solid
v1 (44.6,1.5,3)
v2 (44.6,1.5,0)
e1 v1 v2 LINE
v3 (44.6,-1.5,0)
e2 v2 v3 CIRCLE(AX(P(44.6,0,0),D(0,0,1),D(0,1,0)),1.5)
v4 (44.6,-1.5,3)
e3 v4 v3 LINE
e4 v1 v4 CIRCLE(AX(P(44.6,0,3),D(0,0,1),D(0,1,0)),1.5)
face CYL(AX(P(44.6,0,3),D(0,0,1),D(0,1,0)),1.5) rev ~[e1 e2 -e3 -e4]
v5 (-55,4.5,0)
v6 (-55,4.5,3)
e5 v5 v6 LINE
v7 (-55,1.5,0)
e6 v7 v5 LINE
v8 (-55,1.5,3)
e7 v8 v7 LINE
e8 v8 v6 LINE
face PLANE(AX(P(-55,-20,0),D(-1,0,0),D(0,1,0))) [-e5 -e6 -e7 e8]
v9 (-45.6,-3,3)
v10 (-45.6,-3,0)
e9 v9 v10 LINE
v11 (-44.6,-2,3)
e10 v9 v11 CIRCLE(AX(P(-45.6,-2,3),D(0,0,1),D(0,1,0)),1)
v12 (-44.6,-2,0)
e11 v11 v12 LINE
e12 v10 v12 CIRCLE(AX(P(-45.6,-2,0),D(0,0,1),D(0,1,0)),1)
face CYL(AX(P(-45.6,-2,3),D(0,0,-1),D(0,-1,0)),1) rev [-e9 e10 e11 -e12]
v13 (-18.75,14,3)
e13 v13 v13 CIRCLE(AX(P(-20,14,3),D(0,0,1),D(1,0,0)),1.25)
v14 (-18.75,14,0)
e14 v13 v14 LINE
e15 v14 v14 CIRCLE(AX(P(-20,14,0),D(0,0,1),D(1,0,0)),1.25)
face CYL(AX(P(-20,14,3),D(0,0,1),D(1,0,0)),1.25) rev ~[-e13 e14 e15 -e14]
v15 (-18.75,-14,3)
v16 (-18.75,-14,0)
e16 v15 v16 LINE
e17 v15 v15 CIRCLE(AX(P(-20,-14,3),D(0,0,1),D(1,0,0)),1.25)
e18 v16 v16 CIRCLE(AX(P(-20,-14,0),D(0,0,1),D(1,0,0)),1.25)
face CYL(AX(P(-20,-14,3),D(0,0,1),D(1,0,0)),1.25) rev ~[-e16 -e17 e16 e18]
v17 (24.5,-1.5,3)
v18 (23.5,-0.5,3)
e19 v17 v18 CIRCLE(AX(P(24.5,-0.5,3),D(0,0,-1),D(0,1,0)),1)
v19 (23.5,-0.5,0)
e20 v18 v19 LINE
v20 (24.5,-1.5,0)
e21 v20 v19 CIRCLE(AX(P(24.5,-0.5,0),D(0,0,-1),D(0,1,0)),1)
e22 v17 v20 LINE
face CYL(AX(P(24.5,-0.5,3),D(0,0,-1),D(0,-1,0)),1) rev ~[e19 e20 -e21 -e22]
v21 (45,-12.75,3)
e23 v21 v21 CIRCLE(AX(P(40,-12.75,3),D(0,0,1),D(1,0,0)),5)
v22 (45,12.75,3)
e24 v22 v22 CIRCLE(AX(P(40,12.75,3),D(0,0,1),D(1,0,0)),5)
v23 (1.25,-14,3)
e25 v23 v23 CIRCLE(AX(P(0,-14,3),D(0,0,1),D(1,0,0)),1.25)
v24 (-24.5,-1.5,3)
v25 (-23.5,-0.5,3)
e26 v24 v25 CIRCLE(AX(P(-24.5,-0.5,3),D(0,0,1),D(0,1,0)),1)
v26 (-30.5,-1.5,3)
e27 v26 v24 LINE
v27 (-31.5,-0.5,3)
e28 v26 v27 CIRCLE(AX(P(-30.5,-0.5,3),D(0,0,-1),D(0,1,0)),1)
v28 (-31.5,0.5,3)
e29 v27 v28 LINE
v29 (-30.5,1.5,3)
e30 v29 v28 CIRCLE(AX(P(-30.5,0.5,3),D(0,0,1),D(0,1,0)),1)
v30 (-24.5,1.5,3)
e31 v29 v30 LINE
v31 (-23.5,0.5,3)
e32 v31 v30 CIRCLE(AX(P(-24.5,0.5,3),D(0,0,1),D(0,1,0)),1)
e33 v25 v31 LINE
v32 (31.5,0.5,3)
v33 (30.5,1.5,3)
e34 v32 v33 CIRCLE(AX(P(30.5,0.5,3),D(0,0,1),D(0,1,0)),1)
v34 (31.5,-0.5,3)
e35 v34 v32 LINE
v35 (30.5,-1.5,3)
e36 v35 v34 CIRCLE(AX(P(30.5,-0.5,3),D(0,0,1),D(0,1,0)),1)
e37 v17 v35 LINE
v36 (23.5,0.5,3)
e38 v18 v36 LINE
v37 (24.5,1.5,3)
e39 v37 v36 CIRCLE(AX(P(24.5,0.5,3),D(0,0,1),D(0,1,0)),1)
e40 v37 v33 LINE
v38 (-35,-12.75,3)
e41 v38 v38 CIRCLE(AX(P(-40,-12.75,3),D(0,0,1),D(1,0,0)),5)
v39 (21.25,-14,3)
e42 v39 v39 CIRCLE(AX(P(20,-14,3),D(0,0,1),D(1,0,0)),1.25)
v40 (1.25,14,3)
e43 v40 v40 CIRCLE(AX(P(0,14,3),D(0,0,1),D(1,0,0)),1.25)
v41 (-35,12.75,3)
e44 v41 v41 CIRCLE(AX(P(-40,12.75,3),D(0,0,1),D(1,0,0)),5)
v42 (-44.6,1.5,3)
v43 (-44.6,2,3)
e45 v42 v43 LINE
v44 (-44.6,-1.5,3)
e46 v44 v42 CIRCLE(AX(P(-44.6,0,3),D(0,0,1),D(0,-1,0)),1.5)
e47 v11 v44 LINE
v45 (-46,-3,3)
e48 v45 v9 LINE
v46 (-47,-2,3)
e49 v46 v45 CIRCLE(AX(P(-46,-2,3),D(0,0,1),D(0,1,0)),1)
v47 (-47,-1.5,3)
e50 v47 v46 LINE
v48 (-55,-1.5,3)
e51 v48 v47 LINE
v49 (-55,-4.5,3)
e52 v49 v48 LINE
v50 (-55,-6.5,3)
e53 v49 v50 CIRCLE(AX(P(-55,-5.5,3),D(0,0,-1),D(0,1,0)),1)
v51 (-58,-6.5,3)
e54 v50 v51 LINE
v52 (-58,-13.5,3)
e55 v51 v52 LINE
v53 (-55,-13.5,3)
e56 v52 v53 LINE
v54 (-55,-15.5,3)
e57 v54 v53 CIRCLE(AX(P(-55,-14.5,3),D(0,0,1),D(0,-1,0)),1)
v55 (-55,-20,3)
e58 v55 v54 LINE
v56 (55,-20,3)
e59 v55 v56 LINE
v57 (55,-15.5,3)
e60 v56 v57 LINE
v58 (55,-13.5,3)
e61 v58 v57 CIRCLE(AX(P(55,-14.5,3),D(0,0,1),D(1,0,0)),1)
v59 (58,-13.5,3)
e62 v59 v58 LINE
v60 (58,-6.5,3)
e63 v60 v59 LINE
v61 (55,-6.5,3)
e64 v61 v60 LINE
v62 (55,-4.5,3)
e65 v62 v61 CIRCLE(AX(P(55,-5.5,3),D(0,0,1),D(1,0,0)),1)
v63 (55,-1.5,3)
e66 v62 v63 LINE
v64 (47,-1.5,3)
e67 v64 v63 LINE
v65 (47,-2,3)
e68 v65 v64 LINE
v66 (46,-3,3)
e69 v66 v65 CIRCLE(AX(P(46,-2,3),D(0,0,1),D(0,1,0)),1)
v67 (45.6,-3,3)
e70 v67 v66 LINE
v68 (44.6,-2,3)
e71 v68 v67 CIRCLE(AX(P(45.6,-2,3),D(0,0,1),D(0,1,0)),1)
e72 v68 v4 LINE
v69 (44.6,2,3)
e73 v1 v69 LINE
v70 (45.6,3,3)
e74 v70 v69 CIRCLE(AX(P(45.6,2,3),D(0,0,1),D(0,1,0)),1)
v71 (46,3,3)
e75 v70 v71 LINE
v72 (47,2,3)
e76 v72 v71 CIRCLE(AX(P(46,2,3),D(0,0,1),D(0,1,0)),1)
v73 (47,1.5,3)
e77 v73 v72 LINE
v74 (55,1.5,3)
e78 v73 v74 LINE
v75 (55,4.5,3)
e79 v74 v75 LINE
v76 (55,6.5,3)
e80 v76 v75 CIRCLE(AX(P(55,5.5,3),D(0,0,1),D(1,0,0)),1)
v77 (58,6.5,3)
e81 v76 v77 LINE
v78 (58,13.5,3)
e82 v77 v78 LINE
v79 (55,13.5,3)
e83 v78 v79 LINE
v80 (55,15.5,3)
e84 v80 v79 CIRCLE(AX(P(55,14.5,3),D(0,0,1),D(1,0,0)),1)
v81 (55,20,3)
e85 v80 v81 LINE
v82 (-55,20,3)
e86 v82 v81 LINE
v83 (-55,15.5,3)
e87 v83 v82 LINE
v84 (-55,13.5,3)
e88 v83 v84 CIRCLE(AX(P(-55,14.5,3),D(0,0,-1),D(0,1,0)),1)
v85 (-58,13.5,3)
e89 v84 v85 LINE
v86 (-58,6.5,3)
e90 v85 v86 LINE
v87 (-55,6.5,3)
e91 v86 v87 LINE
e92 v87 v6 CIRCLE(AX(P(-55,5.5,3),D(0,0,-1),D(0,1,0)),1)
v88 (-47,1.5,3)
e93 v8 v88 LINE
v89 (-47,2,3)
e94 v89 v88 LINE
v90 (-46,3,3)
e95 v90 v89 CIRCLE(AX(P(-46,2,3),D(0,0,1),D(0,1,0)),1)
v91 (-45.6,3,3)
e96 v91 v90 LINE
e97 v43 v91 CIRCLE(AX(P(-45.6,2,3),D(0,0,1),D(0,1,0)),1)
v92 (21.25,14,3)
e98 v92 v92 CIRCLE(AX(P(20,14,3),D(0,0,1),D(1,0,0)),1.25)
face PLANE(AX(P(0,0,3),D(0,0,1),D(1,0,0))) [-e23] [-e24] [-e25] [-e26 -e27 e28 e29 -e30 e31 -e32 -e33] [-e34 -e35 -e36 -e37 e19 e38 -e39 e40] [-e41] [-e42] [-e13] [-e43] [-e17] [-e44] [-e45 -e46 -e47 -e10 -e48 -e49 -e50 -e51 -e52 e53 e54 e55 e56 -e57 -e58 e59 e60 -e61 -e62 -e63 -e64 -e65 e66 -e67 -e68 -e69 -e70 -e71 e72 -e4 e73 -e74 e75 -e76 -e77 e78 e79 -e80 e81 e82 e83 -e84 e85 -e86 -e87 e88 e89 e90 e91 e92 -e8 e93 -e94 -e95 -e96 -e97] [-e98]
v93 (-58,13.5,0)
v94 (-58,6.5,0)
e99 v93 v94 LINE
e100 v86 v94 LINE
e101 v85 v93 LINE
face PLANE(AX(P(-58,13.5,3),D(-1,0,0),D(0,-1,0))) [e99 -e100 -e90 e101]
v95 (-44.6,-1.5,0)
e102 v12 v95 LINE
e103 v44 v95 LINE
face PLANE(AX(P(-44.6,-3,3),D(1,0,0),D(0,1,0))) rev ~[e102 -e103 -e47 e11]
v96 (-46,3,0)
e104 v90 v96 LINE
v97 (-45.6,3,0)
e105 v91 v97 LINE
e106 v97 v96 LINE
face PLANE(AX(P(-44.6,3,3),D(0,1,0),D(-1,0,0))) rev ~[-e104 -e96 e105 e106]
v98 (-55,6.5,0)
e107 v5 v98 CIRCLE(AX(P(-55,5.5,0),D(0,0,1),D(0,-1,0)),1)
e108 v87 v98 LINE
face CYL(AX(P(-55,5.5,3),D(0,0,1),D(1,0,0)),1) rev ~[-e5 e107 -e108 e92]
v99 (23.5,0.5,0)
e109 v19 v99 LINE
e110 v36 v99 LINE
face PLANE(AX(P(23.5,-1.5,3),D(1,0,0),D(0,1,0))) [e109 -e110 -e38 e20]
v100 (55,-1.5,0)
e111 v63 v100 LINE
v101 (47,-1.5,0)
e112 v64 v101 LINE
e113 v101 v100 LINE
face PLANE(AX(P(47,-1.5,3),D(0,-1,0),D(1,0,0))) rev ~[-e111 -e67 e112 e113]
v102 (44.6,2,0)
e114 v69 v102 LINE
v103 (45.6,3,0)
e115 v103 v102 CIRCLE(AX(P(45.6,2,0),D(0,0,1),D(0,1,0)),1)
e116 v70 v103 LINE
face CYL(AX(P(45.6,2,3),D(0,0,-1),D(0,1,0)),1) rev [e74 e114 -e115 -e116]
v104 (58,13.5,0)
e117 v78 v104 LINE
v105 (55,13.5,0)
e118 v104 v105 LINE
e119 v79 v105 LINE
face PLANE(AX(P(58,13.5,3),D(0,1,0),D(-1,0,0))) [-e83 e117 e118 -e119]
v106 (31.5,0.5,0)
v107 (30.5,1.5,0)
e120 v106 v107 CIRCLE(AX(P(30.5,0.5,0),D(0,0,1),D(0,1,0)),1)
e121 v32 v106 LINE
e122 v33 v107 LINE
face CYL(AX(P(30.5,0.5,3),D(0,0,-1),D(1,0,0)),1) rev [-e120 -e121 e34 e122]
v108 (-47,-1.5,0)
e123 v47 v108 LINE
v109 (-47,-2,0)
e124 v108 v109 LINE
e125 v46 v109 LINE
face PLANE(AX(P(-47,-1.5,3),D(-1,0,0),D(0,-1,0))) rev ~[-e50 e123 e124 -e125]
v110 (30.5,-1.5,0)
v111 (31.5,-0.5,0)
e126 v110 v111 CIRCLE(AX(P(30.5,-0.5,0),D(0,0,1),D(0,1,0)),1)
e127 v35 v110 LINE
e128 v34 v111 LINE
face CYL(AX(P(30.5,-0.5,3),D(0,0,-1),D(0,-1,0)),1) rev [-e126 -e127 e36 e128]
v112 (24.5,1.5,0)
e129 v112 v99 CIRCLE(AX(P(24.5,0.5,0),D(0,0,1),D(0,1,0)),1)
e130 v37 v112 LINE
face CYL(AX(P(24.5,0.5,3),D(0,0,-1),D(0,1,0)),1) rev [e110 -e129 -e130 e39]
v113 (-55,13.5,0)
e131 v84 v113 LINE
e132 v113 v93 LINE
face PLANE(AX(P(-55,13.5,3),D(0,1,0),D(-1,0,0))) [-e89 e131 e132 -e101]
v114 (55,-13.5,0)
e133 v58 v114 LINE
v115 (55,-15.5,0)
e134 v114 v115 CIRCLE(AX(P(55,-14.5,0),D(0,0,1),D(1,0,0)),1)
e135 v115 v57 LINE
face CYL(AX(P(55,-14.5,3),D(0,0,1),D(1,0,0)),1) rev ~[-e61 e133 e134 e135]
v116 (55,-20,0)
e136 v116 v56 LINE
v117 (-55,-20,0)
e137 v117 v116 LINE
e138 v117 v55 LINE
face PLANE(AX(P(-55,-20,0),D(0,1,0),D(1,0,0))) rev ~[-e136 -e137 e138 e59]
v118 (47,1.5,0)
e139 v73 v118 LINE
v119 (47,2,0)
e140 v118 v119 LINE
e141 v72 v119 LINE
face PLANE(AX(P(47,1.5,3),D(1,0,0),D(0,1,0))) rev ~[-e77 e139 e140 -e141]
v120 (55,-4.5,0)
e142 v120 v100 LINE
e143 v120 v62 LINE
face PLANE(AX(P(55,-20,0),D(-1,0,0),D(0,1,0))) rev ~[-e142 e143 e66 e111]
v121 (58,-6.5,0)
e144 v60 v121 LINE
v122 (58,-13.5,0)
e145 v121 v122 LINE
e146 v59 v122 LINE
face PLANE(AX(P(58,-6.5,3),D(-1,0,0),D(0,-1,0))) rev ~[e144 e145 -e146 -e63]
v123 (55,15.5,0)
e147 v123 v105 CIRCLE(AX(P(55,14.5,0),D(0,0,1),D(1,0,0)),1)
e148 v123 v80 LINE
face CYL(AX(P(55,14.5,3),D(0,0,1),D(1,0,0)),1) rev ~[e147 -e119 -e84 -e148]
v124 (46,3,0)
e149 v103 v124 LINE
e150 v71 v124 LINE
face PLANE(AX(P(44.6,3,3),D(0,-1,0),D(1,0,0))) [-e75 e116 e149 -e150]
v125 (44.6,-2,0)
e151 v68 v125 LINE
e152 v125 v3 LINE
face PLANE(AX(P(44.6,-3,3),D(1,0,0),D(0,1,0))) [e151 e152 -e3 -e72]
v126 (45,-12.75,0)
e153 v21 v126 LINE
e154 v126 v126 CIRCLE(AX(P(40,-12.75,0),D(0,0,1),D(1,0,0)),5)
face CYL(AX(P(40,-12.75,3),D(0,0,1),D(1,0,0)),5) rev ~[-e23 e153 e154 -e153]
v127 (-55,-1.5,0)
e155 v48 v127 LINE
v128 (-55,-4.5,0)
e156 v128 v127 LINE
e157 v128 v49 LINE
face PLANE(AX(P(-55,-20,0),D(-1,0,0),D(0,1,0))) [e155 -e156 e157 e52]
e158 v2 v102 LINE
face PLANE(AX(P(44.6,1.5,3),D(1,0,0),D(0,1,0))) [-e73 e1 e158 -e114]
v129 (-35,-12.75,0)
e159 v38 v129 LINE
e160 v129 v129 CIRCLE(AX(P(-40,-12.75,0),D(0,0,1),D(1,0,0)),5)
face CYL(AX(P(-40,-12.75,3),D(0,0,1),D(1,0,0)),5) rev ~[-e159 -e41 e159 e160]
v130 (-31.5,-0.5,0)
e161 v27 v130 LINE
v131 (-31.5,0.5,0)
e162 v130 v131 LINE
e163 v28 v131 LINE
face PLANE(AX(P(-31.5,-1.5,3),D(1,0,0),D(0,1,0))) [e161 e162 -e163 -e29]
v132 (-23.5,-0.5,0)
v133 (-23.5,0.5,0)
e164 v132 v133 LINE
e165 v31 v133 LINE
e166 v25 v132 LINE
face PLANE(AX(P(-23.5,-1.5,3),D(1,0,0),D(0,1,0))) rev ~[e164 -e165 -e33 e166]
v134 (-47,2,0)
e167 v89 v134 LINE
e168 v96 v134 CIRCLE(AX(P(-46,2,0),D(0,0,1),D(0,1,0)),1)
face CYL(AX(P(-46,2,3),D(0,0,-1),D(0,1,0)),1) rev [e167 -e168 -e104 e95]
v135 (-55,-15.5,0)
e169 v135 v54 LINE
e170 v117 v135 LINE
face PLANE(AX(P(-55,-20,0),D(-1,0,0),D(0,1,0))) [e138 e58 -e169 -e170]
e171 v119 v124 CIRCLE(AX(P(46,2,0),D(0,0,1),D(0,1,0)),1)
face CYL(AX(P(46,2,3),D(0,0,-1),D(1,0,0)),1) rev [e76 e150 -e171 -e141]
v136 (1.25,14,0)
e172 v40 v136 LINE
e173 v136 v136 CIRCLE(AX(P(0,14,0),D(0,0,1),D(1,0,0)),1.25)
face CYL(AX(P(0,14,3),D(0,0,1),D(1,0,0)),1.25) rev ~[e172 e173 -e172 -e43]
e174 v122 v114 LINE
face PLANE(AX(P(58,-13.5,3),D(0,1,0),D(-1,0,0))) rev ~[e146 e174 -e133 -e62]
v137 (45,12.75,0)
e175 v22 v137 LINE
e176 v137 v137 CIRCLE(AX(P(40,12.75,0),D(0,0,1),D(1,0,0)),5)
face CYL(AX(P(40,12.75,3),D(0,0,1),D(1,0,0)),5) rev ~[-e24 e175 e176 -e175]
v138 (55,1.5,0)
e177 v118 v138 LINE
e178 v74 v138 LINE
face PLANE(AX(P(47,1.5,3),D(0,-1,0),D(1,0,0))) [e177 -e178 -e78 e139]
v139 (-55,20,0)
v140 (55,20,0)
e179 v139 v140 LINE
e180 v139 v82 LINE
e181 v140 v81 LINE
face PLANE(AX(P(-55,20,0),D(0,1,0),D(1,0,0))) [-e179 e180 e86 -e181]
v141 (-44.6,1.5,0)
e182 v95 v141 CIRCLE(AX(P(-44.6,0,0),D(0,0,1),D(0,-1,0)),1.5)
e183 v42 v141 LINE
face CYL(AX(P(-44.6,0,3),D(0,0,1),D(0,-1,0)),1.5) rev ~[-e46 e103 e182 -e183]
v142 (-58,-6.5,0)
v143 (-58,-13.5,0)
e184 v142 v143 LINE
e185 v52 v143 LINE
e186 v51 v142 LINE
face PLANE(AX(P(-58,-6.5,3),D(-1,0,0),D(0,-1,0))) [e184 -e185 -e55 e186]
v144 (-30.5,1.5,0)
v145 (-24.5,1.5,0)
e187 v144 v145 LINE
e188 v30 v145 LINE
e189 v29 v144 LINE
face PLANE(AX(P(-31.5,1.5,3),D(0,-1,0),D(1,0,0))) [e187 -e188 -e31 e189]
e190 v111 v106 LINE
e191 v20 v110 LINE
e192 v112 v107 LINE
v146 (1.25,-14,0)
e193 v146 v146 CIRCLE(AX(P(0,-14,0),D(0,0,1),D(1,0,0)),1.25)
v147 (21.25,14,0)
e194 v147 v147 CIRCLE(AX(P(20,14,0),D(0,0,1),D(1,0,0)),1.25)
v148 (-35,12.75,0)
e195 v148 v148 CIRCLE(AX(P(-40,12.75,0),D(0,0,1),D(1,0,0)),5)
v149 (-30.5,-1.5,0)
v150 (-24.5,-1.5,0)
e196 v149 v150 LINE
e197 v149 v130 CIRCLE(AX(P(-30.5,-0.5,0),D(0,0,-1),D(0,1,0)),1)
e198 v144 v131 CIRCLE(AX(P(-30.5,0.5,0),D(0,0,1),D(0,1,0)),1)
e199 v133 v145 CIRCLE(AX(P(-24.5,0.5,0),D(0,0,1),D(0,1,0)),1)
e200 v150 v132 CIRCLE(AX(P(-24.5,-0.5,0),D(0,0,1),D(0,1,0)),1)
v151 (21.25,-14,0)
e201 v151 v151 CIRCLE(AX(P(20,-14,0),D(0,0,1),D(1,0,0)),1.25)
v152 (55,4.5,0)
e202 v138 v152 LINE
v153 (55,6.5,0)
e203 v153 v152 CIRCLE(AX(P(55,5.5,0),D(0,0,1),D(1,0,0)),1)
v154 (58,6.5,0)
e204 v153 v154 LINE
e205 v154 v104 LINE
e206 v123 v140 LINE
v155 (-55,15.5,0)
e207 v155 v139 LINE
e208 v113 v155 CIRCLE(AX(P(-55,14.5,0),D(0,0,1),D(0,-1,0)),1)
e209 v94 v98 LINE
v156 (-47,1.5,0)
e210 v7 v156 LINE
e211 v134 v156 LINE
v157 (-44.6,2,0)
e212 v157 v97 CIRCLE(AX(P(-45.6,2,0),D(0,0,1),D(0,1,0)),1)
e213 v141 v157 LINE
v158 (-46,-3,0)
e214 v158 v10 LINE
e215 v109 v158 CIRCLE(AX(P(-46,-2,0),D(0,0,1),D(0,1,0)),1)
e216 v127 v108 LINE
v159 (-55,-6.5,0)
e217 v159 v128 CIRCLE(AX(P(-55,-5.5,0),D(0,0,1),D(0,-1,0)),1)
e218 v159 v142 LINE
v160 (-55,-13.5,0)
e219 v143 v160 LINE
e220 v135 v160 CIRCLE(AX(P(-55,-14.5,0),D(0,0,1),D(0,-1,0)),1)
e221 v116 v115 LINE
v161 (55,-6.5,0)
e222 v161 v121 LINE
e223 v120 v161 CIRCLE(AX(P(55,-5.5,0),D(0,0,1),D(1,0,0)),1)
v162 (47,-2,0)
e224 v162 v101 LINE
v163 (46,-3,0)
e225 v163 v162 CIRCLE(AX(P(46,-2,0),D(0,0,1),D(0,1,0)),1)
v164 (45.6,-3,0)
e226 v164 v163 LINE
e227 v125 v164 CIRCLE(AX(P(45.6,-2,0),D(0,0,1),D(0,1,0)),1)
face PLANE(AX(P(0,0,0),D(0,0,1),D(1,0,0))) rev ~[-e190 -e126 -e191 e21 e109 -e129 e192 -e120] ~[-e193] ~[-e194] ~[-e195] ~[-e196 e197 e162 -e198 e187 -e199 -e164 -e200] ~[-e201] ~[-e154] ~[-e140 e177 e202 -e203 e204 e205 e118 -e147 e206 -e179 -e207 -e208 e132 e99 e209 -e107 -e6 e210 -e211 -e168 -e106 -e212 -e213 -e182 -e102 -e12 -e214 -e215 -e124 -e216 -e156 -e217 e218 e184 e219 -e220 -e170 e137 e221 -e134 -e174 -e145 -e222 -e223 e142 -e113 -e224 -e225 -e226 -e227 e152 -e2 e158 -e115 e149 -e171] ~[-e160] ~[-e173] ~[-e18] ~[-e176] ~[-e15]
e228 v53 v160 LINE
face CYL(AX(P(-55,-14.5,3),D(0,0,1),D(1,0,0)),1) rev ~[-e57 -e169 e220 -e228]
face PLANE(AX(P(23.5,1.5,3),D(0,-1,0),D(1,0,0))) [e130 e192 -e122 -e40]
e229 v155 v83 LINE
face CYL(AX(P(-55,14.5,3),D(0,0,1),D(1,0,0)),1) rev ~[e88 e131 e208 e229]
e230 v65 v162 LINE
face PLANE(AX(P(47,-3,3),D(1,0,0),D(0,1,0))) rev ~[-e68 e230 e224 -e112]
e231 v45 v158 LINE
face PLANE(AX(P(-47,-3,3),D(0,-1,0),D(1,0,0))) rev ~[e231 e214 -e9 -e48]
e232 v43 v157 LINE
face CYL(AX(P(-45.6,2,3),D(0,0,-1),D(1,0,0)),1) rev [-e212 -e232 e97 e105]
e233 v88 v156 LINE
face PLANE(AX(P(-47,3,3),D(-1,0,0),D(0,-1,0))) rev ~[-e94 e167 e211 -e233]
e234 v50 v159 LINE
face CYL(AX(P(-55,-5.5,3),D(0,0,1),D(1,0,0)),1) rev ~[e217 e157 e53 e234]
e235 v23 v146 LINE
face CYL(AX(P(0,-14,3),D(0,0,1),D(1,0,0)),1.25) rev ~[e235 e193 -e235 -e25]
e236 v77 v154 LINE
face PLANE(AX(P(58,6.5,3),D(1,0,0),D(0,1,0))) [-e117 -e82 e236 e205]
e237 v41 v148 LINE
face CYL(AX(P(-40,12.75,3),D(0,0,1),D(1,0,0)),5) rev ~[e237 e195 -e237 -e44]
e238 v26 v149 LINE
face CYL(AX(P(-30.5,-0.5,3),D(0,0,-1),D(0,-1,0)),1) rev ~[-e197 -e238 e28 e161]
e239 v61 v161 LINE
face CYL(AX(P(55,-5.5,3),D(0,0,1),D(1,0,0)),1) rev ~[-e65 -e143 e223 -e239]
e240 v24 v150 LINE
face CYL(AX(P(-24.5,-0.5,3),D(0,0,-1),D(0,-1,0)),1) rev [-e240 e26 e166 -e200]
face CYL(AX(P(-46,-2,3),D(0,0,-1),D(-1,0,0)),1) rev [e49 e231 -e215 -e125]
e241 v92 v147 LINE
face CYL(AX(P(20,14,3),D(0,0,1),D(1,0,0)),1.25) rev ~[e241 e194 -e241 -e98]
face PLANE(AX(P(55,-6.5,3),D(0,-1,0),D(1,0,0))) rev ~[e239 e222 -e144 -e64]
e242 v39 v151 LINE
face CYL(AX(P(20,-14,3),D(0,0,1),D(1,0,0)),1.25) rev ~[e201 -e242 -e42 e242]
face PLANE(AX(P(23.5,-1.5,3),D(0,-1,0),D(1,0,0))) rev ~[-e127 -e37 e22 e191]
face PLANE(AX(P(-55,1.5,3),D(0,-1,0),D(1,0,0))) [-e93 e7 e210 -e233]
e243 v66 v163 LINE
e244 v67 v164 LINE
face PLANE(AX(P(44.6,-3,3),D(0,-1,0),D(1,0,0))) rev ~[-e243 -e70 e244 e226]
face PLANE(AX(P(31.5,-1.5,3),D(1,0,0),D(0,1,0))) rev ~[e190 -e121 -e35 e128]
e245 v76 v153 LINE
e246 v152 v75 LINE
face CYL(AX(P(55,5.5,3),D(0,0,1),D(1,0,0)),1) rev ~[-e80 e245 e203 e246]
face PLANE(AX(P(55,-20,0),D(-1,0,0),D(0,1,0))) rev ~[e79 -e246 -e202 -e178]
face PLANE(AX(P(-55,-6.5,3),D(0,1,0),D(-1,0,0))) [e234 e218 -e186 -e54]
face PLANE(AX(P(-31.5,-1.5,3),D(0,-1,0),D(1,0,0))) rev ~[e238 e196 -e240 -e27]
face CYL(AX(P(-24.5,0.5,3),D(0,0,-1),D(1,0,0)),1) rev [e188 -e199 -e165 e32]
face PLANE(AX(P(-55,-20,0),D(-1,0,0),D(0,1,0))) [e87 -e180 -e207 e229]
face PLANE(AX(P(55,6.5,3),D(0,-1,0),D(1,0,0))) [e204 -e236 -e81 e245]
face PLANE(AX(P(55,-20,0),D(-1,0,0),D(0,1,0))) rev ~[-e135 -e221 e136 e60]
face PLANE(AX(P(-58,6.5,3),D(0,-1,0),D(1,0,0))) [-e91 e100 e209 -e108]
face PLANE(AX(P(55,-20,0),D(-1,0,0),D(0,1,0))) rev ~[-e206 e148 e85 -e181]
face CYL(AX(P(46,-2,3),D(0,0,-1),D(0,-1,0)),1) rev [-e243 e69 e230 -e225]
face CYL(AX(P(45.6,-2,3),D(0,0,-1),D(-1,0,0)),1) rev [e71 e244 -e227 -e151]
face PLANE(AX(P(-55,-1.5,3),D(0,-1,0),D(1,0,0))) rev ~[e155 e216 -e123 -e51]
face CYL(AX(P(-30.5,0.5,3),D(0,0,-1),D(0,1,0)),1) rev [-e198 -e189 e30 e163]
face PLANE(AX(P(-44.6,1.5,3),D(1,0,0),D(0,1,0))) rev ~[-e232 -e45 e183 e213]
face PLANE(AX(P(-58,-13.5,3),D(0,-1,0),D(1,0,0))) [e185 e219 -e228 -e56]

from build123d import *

# Parameters (mm, degrees)
SKETCH1_W           = 110
SKETCH1_H           = 40
BOSS_EXTRUDE1_DEPTH = 3
BOSS_EXTRUDE2_DEPTH = 3
SKETCH3_R           = 1
CUT_EXTRUDE1_DEPTH  = 3
SKETCH4_W           = 8
SKETCH4_H           = 3
SKETCH4_W_2         = 2.4
SKETCH4_H_2         = 6
CUT_EXTRUDE2_DEPTH  = 3
FILLET6_R           = 1
SKETCH5_W           = 8
SKETCH5_H           = 3
CUT_EXTRUDE3_DEPTH  = 10
FILLET7_R           = 1
SKETCH6_R           = 1.25
CUT_EXTRUDE4_DEPTH  = 62.424750712
SKETCH7_R           = 5
CUT_EXTRUDE5_DEPTH  = 10


with BuildPart() as part:
    # Sketch1 → Boss-Extrude1 (new body)
    with BuildSketch(Plane.XY):
        Rectangle(SKETCH1_W, SKETCH1_H)
    extrude(amount=BOSS_EXTRUDE1_DEPTH)

    # Sketch2 → Boss-Extrude2 (add)
    with BuildSketch(Plane.XY.offset(3)):
        Polygon((58, 10), (58, 13.5), (55, 13.5), (55, 6.5), (58, 6.5), align=None)
        Polygon((55, -10), (55, -6.5), (58, -6.5), (58, -13.5), (55, -13.5), align=None)
        Polygon((-55, 6.5), (-55, 13.5), (-58, 13.5), (-58, 10), (-58, 6.5), align=None)
        Polygon((-55, -13.5), (-55, -10), (-55, -6.5), (-58, -6.5), (-58, -13.5), align=None)
    extrude(amount=-BOSS_EXTRUDE2_DEPTH)

    # Sketch3 → Cut-Extrude1 (cut)
    with BuildSketch(Plane.XY.offset(3)):
        with Locations((-55, 14.5)):
            Circle(SKETCH3_R)
        with Locations((-55, 5.5)):
            Circle(SKETCH3_R)
        with Locations((-55, -5.5)):
            Circle(SKETCH3_R)
        with Locations((-55, -14.5)):
            Circle(SKETCH3_R)
        with Locations((55, 14.5)):
            Circle(SKETCH3_R)
        with Locations((55, 5.5)):
            Circle(SKETCH3_R)
        with Locations((55, -5.5)):
            Circle(SKETCH3_R)
        with Locations((55, -14.5)):
            Circle(SKETCH3_R)
    extrude(amount=-CUT_EXTRUDE1_DEPTH, mode=Mode.SUBTRACT)

    # Sketch4 → Cut-Extrude2 (cut)
    with BuildSketch(Plane.XY.offset(3)):
        with Locations((-51, 0)):
            Rectangle(SKETCH4_W, SKETCH4_H)
        Polygon((-47, 3), (-47, 1.5), (-47, -1.5), (-47, -3), (-44.6, -3), (-44.6, -1.5), (-44.6, 1.5), (-44.6, 3), align=None)
        with BuildLine():
            ThreePointArc((-44.6, -1.5), (-43.1, 0), (-44.6, 1.5))
            Line((-44.6, 1.5), (-44.6, -1.5))
        make_face()
        with Locations((45.8, 0)):
            Rectangle(SKETCH4_W_2, SKETCH4_H_2)
        with BuildLine():
            Line((44.6, -1.5), (44.6, 1.5))
            ThreePointArc((44.6, 1.5), (43.1, 0), (44.6, -1.5))
        make_face()
        with Locations((51, 0)):
            Rectangle(SKETCH4_W, SKETCH4_H)
    extrude(amount=-CUT_EXTRUDE2_DEPTH, mode=Mode.SUBTRACT)

    # Fillet6
    fillet6_edges = [part.edges().sort_by_distance(p)[0] for p in [
        (-47, 3, 1.5),
        (-44.6, 3, 1.5),
        (-44.6, -3, 1.5),
        (-47, -3, 1.5),
        (47, 3, 1.5),
        (47, -3, 1.5),
        (44.6, -3, 1.5),
        (44.6, 3, 1.5),
    ]]
    fillet(fillet6_edges, radius=FILLET6_R)

    # Sketch5 → Cut-Extrude3 (cut)
    with BuildSketch(Plane.XY.offset(3)):
        with Locations((-27.5, 0)):
            Rectangle(SKETCH5_W, SKETCH5_H)
        with Locations((27.5, 0)):
            Rectangle(SKETCH5_W, SKETCH5_H)
    extrude(amount=-CUT_EXTRUDE3_DEPTH, mode=Mode.SUBTRACT)

    # Fillet7
    fillet7_edges = [part.edges().sort_by_distance(p)[0] for p in [
        (-23.5, 1.5, 1.5),
        (-23.5, -1.5, 1.5),
        (-31.5, -1.5, 1.5),
        (-31.5, 1.5, 1.5),
        (31.5, 1.5, 1.5),
        (31.5, -1.5, 1.5),
        (23.5, -1.5, 1.5),
        (23.5, 1.5, 1.5),
    ]]
    fillet(fillet7_edges, radius=FILLET7_R)

    # Sketch6 → Cut-Extrude4 (cut, through all)
    with BuildSketch(Plane.XY.offset(3)):
        with Locations((-40, -14)):
            Circle(SKETCH6_R)
        with Locations((-20, -14)):
            Circle(SKETCH6_R)
        with Locations((0, -14)):
            Circle(SKETCH6_R)
        with Locations((20, -14)):
            Circle(SKETCH6_R)
        with Locations((40, -14)):
            Circle(SKETCH6_R)
        with Locations((40, 14)):
            Circle(SKETCH6_R)
        with Locations((20, 14)):
            Circle(SKETCH6_R)
        with Locations((0, 14)):
            Circle(SKETCH6_R)
        with Locations((-20, 14)):
            Circle(SKETCH6_R)
        with Locations((-40, 14)):
            Circle(SKETCH6_R)
    extrude(amount=-CUT_EXTRUDE4_DEPTH, mode=Mode.SUBTRACT)

    # Sketch7 → Cut-Extrude5 (cut)
    with BuildSketch(Plane.XY.offset(3)):
        with Locations((-40, 12.75)):
            Circle(SKETCH7_R)
        with Locations((-40, -12.75)):
            Circle(SKETCH7_R)
        with Locations((40, 12.75)):
            Circle(SKETCH7_R)
        with Locations((40, -12.75)):
            Circle(SKETCH7_R)
    extrude(amount=-CUT_EXTRUDE5_DEPTH, mode=Mode.SUBTRACT)


solid = part.part
